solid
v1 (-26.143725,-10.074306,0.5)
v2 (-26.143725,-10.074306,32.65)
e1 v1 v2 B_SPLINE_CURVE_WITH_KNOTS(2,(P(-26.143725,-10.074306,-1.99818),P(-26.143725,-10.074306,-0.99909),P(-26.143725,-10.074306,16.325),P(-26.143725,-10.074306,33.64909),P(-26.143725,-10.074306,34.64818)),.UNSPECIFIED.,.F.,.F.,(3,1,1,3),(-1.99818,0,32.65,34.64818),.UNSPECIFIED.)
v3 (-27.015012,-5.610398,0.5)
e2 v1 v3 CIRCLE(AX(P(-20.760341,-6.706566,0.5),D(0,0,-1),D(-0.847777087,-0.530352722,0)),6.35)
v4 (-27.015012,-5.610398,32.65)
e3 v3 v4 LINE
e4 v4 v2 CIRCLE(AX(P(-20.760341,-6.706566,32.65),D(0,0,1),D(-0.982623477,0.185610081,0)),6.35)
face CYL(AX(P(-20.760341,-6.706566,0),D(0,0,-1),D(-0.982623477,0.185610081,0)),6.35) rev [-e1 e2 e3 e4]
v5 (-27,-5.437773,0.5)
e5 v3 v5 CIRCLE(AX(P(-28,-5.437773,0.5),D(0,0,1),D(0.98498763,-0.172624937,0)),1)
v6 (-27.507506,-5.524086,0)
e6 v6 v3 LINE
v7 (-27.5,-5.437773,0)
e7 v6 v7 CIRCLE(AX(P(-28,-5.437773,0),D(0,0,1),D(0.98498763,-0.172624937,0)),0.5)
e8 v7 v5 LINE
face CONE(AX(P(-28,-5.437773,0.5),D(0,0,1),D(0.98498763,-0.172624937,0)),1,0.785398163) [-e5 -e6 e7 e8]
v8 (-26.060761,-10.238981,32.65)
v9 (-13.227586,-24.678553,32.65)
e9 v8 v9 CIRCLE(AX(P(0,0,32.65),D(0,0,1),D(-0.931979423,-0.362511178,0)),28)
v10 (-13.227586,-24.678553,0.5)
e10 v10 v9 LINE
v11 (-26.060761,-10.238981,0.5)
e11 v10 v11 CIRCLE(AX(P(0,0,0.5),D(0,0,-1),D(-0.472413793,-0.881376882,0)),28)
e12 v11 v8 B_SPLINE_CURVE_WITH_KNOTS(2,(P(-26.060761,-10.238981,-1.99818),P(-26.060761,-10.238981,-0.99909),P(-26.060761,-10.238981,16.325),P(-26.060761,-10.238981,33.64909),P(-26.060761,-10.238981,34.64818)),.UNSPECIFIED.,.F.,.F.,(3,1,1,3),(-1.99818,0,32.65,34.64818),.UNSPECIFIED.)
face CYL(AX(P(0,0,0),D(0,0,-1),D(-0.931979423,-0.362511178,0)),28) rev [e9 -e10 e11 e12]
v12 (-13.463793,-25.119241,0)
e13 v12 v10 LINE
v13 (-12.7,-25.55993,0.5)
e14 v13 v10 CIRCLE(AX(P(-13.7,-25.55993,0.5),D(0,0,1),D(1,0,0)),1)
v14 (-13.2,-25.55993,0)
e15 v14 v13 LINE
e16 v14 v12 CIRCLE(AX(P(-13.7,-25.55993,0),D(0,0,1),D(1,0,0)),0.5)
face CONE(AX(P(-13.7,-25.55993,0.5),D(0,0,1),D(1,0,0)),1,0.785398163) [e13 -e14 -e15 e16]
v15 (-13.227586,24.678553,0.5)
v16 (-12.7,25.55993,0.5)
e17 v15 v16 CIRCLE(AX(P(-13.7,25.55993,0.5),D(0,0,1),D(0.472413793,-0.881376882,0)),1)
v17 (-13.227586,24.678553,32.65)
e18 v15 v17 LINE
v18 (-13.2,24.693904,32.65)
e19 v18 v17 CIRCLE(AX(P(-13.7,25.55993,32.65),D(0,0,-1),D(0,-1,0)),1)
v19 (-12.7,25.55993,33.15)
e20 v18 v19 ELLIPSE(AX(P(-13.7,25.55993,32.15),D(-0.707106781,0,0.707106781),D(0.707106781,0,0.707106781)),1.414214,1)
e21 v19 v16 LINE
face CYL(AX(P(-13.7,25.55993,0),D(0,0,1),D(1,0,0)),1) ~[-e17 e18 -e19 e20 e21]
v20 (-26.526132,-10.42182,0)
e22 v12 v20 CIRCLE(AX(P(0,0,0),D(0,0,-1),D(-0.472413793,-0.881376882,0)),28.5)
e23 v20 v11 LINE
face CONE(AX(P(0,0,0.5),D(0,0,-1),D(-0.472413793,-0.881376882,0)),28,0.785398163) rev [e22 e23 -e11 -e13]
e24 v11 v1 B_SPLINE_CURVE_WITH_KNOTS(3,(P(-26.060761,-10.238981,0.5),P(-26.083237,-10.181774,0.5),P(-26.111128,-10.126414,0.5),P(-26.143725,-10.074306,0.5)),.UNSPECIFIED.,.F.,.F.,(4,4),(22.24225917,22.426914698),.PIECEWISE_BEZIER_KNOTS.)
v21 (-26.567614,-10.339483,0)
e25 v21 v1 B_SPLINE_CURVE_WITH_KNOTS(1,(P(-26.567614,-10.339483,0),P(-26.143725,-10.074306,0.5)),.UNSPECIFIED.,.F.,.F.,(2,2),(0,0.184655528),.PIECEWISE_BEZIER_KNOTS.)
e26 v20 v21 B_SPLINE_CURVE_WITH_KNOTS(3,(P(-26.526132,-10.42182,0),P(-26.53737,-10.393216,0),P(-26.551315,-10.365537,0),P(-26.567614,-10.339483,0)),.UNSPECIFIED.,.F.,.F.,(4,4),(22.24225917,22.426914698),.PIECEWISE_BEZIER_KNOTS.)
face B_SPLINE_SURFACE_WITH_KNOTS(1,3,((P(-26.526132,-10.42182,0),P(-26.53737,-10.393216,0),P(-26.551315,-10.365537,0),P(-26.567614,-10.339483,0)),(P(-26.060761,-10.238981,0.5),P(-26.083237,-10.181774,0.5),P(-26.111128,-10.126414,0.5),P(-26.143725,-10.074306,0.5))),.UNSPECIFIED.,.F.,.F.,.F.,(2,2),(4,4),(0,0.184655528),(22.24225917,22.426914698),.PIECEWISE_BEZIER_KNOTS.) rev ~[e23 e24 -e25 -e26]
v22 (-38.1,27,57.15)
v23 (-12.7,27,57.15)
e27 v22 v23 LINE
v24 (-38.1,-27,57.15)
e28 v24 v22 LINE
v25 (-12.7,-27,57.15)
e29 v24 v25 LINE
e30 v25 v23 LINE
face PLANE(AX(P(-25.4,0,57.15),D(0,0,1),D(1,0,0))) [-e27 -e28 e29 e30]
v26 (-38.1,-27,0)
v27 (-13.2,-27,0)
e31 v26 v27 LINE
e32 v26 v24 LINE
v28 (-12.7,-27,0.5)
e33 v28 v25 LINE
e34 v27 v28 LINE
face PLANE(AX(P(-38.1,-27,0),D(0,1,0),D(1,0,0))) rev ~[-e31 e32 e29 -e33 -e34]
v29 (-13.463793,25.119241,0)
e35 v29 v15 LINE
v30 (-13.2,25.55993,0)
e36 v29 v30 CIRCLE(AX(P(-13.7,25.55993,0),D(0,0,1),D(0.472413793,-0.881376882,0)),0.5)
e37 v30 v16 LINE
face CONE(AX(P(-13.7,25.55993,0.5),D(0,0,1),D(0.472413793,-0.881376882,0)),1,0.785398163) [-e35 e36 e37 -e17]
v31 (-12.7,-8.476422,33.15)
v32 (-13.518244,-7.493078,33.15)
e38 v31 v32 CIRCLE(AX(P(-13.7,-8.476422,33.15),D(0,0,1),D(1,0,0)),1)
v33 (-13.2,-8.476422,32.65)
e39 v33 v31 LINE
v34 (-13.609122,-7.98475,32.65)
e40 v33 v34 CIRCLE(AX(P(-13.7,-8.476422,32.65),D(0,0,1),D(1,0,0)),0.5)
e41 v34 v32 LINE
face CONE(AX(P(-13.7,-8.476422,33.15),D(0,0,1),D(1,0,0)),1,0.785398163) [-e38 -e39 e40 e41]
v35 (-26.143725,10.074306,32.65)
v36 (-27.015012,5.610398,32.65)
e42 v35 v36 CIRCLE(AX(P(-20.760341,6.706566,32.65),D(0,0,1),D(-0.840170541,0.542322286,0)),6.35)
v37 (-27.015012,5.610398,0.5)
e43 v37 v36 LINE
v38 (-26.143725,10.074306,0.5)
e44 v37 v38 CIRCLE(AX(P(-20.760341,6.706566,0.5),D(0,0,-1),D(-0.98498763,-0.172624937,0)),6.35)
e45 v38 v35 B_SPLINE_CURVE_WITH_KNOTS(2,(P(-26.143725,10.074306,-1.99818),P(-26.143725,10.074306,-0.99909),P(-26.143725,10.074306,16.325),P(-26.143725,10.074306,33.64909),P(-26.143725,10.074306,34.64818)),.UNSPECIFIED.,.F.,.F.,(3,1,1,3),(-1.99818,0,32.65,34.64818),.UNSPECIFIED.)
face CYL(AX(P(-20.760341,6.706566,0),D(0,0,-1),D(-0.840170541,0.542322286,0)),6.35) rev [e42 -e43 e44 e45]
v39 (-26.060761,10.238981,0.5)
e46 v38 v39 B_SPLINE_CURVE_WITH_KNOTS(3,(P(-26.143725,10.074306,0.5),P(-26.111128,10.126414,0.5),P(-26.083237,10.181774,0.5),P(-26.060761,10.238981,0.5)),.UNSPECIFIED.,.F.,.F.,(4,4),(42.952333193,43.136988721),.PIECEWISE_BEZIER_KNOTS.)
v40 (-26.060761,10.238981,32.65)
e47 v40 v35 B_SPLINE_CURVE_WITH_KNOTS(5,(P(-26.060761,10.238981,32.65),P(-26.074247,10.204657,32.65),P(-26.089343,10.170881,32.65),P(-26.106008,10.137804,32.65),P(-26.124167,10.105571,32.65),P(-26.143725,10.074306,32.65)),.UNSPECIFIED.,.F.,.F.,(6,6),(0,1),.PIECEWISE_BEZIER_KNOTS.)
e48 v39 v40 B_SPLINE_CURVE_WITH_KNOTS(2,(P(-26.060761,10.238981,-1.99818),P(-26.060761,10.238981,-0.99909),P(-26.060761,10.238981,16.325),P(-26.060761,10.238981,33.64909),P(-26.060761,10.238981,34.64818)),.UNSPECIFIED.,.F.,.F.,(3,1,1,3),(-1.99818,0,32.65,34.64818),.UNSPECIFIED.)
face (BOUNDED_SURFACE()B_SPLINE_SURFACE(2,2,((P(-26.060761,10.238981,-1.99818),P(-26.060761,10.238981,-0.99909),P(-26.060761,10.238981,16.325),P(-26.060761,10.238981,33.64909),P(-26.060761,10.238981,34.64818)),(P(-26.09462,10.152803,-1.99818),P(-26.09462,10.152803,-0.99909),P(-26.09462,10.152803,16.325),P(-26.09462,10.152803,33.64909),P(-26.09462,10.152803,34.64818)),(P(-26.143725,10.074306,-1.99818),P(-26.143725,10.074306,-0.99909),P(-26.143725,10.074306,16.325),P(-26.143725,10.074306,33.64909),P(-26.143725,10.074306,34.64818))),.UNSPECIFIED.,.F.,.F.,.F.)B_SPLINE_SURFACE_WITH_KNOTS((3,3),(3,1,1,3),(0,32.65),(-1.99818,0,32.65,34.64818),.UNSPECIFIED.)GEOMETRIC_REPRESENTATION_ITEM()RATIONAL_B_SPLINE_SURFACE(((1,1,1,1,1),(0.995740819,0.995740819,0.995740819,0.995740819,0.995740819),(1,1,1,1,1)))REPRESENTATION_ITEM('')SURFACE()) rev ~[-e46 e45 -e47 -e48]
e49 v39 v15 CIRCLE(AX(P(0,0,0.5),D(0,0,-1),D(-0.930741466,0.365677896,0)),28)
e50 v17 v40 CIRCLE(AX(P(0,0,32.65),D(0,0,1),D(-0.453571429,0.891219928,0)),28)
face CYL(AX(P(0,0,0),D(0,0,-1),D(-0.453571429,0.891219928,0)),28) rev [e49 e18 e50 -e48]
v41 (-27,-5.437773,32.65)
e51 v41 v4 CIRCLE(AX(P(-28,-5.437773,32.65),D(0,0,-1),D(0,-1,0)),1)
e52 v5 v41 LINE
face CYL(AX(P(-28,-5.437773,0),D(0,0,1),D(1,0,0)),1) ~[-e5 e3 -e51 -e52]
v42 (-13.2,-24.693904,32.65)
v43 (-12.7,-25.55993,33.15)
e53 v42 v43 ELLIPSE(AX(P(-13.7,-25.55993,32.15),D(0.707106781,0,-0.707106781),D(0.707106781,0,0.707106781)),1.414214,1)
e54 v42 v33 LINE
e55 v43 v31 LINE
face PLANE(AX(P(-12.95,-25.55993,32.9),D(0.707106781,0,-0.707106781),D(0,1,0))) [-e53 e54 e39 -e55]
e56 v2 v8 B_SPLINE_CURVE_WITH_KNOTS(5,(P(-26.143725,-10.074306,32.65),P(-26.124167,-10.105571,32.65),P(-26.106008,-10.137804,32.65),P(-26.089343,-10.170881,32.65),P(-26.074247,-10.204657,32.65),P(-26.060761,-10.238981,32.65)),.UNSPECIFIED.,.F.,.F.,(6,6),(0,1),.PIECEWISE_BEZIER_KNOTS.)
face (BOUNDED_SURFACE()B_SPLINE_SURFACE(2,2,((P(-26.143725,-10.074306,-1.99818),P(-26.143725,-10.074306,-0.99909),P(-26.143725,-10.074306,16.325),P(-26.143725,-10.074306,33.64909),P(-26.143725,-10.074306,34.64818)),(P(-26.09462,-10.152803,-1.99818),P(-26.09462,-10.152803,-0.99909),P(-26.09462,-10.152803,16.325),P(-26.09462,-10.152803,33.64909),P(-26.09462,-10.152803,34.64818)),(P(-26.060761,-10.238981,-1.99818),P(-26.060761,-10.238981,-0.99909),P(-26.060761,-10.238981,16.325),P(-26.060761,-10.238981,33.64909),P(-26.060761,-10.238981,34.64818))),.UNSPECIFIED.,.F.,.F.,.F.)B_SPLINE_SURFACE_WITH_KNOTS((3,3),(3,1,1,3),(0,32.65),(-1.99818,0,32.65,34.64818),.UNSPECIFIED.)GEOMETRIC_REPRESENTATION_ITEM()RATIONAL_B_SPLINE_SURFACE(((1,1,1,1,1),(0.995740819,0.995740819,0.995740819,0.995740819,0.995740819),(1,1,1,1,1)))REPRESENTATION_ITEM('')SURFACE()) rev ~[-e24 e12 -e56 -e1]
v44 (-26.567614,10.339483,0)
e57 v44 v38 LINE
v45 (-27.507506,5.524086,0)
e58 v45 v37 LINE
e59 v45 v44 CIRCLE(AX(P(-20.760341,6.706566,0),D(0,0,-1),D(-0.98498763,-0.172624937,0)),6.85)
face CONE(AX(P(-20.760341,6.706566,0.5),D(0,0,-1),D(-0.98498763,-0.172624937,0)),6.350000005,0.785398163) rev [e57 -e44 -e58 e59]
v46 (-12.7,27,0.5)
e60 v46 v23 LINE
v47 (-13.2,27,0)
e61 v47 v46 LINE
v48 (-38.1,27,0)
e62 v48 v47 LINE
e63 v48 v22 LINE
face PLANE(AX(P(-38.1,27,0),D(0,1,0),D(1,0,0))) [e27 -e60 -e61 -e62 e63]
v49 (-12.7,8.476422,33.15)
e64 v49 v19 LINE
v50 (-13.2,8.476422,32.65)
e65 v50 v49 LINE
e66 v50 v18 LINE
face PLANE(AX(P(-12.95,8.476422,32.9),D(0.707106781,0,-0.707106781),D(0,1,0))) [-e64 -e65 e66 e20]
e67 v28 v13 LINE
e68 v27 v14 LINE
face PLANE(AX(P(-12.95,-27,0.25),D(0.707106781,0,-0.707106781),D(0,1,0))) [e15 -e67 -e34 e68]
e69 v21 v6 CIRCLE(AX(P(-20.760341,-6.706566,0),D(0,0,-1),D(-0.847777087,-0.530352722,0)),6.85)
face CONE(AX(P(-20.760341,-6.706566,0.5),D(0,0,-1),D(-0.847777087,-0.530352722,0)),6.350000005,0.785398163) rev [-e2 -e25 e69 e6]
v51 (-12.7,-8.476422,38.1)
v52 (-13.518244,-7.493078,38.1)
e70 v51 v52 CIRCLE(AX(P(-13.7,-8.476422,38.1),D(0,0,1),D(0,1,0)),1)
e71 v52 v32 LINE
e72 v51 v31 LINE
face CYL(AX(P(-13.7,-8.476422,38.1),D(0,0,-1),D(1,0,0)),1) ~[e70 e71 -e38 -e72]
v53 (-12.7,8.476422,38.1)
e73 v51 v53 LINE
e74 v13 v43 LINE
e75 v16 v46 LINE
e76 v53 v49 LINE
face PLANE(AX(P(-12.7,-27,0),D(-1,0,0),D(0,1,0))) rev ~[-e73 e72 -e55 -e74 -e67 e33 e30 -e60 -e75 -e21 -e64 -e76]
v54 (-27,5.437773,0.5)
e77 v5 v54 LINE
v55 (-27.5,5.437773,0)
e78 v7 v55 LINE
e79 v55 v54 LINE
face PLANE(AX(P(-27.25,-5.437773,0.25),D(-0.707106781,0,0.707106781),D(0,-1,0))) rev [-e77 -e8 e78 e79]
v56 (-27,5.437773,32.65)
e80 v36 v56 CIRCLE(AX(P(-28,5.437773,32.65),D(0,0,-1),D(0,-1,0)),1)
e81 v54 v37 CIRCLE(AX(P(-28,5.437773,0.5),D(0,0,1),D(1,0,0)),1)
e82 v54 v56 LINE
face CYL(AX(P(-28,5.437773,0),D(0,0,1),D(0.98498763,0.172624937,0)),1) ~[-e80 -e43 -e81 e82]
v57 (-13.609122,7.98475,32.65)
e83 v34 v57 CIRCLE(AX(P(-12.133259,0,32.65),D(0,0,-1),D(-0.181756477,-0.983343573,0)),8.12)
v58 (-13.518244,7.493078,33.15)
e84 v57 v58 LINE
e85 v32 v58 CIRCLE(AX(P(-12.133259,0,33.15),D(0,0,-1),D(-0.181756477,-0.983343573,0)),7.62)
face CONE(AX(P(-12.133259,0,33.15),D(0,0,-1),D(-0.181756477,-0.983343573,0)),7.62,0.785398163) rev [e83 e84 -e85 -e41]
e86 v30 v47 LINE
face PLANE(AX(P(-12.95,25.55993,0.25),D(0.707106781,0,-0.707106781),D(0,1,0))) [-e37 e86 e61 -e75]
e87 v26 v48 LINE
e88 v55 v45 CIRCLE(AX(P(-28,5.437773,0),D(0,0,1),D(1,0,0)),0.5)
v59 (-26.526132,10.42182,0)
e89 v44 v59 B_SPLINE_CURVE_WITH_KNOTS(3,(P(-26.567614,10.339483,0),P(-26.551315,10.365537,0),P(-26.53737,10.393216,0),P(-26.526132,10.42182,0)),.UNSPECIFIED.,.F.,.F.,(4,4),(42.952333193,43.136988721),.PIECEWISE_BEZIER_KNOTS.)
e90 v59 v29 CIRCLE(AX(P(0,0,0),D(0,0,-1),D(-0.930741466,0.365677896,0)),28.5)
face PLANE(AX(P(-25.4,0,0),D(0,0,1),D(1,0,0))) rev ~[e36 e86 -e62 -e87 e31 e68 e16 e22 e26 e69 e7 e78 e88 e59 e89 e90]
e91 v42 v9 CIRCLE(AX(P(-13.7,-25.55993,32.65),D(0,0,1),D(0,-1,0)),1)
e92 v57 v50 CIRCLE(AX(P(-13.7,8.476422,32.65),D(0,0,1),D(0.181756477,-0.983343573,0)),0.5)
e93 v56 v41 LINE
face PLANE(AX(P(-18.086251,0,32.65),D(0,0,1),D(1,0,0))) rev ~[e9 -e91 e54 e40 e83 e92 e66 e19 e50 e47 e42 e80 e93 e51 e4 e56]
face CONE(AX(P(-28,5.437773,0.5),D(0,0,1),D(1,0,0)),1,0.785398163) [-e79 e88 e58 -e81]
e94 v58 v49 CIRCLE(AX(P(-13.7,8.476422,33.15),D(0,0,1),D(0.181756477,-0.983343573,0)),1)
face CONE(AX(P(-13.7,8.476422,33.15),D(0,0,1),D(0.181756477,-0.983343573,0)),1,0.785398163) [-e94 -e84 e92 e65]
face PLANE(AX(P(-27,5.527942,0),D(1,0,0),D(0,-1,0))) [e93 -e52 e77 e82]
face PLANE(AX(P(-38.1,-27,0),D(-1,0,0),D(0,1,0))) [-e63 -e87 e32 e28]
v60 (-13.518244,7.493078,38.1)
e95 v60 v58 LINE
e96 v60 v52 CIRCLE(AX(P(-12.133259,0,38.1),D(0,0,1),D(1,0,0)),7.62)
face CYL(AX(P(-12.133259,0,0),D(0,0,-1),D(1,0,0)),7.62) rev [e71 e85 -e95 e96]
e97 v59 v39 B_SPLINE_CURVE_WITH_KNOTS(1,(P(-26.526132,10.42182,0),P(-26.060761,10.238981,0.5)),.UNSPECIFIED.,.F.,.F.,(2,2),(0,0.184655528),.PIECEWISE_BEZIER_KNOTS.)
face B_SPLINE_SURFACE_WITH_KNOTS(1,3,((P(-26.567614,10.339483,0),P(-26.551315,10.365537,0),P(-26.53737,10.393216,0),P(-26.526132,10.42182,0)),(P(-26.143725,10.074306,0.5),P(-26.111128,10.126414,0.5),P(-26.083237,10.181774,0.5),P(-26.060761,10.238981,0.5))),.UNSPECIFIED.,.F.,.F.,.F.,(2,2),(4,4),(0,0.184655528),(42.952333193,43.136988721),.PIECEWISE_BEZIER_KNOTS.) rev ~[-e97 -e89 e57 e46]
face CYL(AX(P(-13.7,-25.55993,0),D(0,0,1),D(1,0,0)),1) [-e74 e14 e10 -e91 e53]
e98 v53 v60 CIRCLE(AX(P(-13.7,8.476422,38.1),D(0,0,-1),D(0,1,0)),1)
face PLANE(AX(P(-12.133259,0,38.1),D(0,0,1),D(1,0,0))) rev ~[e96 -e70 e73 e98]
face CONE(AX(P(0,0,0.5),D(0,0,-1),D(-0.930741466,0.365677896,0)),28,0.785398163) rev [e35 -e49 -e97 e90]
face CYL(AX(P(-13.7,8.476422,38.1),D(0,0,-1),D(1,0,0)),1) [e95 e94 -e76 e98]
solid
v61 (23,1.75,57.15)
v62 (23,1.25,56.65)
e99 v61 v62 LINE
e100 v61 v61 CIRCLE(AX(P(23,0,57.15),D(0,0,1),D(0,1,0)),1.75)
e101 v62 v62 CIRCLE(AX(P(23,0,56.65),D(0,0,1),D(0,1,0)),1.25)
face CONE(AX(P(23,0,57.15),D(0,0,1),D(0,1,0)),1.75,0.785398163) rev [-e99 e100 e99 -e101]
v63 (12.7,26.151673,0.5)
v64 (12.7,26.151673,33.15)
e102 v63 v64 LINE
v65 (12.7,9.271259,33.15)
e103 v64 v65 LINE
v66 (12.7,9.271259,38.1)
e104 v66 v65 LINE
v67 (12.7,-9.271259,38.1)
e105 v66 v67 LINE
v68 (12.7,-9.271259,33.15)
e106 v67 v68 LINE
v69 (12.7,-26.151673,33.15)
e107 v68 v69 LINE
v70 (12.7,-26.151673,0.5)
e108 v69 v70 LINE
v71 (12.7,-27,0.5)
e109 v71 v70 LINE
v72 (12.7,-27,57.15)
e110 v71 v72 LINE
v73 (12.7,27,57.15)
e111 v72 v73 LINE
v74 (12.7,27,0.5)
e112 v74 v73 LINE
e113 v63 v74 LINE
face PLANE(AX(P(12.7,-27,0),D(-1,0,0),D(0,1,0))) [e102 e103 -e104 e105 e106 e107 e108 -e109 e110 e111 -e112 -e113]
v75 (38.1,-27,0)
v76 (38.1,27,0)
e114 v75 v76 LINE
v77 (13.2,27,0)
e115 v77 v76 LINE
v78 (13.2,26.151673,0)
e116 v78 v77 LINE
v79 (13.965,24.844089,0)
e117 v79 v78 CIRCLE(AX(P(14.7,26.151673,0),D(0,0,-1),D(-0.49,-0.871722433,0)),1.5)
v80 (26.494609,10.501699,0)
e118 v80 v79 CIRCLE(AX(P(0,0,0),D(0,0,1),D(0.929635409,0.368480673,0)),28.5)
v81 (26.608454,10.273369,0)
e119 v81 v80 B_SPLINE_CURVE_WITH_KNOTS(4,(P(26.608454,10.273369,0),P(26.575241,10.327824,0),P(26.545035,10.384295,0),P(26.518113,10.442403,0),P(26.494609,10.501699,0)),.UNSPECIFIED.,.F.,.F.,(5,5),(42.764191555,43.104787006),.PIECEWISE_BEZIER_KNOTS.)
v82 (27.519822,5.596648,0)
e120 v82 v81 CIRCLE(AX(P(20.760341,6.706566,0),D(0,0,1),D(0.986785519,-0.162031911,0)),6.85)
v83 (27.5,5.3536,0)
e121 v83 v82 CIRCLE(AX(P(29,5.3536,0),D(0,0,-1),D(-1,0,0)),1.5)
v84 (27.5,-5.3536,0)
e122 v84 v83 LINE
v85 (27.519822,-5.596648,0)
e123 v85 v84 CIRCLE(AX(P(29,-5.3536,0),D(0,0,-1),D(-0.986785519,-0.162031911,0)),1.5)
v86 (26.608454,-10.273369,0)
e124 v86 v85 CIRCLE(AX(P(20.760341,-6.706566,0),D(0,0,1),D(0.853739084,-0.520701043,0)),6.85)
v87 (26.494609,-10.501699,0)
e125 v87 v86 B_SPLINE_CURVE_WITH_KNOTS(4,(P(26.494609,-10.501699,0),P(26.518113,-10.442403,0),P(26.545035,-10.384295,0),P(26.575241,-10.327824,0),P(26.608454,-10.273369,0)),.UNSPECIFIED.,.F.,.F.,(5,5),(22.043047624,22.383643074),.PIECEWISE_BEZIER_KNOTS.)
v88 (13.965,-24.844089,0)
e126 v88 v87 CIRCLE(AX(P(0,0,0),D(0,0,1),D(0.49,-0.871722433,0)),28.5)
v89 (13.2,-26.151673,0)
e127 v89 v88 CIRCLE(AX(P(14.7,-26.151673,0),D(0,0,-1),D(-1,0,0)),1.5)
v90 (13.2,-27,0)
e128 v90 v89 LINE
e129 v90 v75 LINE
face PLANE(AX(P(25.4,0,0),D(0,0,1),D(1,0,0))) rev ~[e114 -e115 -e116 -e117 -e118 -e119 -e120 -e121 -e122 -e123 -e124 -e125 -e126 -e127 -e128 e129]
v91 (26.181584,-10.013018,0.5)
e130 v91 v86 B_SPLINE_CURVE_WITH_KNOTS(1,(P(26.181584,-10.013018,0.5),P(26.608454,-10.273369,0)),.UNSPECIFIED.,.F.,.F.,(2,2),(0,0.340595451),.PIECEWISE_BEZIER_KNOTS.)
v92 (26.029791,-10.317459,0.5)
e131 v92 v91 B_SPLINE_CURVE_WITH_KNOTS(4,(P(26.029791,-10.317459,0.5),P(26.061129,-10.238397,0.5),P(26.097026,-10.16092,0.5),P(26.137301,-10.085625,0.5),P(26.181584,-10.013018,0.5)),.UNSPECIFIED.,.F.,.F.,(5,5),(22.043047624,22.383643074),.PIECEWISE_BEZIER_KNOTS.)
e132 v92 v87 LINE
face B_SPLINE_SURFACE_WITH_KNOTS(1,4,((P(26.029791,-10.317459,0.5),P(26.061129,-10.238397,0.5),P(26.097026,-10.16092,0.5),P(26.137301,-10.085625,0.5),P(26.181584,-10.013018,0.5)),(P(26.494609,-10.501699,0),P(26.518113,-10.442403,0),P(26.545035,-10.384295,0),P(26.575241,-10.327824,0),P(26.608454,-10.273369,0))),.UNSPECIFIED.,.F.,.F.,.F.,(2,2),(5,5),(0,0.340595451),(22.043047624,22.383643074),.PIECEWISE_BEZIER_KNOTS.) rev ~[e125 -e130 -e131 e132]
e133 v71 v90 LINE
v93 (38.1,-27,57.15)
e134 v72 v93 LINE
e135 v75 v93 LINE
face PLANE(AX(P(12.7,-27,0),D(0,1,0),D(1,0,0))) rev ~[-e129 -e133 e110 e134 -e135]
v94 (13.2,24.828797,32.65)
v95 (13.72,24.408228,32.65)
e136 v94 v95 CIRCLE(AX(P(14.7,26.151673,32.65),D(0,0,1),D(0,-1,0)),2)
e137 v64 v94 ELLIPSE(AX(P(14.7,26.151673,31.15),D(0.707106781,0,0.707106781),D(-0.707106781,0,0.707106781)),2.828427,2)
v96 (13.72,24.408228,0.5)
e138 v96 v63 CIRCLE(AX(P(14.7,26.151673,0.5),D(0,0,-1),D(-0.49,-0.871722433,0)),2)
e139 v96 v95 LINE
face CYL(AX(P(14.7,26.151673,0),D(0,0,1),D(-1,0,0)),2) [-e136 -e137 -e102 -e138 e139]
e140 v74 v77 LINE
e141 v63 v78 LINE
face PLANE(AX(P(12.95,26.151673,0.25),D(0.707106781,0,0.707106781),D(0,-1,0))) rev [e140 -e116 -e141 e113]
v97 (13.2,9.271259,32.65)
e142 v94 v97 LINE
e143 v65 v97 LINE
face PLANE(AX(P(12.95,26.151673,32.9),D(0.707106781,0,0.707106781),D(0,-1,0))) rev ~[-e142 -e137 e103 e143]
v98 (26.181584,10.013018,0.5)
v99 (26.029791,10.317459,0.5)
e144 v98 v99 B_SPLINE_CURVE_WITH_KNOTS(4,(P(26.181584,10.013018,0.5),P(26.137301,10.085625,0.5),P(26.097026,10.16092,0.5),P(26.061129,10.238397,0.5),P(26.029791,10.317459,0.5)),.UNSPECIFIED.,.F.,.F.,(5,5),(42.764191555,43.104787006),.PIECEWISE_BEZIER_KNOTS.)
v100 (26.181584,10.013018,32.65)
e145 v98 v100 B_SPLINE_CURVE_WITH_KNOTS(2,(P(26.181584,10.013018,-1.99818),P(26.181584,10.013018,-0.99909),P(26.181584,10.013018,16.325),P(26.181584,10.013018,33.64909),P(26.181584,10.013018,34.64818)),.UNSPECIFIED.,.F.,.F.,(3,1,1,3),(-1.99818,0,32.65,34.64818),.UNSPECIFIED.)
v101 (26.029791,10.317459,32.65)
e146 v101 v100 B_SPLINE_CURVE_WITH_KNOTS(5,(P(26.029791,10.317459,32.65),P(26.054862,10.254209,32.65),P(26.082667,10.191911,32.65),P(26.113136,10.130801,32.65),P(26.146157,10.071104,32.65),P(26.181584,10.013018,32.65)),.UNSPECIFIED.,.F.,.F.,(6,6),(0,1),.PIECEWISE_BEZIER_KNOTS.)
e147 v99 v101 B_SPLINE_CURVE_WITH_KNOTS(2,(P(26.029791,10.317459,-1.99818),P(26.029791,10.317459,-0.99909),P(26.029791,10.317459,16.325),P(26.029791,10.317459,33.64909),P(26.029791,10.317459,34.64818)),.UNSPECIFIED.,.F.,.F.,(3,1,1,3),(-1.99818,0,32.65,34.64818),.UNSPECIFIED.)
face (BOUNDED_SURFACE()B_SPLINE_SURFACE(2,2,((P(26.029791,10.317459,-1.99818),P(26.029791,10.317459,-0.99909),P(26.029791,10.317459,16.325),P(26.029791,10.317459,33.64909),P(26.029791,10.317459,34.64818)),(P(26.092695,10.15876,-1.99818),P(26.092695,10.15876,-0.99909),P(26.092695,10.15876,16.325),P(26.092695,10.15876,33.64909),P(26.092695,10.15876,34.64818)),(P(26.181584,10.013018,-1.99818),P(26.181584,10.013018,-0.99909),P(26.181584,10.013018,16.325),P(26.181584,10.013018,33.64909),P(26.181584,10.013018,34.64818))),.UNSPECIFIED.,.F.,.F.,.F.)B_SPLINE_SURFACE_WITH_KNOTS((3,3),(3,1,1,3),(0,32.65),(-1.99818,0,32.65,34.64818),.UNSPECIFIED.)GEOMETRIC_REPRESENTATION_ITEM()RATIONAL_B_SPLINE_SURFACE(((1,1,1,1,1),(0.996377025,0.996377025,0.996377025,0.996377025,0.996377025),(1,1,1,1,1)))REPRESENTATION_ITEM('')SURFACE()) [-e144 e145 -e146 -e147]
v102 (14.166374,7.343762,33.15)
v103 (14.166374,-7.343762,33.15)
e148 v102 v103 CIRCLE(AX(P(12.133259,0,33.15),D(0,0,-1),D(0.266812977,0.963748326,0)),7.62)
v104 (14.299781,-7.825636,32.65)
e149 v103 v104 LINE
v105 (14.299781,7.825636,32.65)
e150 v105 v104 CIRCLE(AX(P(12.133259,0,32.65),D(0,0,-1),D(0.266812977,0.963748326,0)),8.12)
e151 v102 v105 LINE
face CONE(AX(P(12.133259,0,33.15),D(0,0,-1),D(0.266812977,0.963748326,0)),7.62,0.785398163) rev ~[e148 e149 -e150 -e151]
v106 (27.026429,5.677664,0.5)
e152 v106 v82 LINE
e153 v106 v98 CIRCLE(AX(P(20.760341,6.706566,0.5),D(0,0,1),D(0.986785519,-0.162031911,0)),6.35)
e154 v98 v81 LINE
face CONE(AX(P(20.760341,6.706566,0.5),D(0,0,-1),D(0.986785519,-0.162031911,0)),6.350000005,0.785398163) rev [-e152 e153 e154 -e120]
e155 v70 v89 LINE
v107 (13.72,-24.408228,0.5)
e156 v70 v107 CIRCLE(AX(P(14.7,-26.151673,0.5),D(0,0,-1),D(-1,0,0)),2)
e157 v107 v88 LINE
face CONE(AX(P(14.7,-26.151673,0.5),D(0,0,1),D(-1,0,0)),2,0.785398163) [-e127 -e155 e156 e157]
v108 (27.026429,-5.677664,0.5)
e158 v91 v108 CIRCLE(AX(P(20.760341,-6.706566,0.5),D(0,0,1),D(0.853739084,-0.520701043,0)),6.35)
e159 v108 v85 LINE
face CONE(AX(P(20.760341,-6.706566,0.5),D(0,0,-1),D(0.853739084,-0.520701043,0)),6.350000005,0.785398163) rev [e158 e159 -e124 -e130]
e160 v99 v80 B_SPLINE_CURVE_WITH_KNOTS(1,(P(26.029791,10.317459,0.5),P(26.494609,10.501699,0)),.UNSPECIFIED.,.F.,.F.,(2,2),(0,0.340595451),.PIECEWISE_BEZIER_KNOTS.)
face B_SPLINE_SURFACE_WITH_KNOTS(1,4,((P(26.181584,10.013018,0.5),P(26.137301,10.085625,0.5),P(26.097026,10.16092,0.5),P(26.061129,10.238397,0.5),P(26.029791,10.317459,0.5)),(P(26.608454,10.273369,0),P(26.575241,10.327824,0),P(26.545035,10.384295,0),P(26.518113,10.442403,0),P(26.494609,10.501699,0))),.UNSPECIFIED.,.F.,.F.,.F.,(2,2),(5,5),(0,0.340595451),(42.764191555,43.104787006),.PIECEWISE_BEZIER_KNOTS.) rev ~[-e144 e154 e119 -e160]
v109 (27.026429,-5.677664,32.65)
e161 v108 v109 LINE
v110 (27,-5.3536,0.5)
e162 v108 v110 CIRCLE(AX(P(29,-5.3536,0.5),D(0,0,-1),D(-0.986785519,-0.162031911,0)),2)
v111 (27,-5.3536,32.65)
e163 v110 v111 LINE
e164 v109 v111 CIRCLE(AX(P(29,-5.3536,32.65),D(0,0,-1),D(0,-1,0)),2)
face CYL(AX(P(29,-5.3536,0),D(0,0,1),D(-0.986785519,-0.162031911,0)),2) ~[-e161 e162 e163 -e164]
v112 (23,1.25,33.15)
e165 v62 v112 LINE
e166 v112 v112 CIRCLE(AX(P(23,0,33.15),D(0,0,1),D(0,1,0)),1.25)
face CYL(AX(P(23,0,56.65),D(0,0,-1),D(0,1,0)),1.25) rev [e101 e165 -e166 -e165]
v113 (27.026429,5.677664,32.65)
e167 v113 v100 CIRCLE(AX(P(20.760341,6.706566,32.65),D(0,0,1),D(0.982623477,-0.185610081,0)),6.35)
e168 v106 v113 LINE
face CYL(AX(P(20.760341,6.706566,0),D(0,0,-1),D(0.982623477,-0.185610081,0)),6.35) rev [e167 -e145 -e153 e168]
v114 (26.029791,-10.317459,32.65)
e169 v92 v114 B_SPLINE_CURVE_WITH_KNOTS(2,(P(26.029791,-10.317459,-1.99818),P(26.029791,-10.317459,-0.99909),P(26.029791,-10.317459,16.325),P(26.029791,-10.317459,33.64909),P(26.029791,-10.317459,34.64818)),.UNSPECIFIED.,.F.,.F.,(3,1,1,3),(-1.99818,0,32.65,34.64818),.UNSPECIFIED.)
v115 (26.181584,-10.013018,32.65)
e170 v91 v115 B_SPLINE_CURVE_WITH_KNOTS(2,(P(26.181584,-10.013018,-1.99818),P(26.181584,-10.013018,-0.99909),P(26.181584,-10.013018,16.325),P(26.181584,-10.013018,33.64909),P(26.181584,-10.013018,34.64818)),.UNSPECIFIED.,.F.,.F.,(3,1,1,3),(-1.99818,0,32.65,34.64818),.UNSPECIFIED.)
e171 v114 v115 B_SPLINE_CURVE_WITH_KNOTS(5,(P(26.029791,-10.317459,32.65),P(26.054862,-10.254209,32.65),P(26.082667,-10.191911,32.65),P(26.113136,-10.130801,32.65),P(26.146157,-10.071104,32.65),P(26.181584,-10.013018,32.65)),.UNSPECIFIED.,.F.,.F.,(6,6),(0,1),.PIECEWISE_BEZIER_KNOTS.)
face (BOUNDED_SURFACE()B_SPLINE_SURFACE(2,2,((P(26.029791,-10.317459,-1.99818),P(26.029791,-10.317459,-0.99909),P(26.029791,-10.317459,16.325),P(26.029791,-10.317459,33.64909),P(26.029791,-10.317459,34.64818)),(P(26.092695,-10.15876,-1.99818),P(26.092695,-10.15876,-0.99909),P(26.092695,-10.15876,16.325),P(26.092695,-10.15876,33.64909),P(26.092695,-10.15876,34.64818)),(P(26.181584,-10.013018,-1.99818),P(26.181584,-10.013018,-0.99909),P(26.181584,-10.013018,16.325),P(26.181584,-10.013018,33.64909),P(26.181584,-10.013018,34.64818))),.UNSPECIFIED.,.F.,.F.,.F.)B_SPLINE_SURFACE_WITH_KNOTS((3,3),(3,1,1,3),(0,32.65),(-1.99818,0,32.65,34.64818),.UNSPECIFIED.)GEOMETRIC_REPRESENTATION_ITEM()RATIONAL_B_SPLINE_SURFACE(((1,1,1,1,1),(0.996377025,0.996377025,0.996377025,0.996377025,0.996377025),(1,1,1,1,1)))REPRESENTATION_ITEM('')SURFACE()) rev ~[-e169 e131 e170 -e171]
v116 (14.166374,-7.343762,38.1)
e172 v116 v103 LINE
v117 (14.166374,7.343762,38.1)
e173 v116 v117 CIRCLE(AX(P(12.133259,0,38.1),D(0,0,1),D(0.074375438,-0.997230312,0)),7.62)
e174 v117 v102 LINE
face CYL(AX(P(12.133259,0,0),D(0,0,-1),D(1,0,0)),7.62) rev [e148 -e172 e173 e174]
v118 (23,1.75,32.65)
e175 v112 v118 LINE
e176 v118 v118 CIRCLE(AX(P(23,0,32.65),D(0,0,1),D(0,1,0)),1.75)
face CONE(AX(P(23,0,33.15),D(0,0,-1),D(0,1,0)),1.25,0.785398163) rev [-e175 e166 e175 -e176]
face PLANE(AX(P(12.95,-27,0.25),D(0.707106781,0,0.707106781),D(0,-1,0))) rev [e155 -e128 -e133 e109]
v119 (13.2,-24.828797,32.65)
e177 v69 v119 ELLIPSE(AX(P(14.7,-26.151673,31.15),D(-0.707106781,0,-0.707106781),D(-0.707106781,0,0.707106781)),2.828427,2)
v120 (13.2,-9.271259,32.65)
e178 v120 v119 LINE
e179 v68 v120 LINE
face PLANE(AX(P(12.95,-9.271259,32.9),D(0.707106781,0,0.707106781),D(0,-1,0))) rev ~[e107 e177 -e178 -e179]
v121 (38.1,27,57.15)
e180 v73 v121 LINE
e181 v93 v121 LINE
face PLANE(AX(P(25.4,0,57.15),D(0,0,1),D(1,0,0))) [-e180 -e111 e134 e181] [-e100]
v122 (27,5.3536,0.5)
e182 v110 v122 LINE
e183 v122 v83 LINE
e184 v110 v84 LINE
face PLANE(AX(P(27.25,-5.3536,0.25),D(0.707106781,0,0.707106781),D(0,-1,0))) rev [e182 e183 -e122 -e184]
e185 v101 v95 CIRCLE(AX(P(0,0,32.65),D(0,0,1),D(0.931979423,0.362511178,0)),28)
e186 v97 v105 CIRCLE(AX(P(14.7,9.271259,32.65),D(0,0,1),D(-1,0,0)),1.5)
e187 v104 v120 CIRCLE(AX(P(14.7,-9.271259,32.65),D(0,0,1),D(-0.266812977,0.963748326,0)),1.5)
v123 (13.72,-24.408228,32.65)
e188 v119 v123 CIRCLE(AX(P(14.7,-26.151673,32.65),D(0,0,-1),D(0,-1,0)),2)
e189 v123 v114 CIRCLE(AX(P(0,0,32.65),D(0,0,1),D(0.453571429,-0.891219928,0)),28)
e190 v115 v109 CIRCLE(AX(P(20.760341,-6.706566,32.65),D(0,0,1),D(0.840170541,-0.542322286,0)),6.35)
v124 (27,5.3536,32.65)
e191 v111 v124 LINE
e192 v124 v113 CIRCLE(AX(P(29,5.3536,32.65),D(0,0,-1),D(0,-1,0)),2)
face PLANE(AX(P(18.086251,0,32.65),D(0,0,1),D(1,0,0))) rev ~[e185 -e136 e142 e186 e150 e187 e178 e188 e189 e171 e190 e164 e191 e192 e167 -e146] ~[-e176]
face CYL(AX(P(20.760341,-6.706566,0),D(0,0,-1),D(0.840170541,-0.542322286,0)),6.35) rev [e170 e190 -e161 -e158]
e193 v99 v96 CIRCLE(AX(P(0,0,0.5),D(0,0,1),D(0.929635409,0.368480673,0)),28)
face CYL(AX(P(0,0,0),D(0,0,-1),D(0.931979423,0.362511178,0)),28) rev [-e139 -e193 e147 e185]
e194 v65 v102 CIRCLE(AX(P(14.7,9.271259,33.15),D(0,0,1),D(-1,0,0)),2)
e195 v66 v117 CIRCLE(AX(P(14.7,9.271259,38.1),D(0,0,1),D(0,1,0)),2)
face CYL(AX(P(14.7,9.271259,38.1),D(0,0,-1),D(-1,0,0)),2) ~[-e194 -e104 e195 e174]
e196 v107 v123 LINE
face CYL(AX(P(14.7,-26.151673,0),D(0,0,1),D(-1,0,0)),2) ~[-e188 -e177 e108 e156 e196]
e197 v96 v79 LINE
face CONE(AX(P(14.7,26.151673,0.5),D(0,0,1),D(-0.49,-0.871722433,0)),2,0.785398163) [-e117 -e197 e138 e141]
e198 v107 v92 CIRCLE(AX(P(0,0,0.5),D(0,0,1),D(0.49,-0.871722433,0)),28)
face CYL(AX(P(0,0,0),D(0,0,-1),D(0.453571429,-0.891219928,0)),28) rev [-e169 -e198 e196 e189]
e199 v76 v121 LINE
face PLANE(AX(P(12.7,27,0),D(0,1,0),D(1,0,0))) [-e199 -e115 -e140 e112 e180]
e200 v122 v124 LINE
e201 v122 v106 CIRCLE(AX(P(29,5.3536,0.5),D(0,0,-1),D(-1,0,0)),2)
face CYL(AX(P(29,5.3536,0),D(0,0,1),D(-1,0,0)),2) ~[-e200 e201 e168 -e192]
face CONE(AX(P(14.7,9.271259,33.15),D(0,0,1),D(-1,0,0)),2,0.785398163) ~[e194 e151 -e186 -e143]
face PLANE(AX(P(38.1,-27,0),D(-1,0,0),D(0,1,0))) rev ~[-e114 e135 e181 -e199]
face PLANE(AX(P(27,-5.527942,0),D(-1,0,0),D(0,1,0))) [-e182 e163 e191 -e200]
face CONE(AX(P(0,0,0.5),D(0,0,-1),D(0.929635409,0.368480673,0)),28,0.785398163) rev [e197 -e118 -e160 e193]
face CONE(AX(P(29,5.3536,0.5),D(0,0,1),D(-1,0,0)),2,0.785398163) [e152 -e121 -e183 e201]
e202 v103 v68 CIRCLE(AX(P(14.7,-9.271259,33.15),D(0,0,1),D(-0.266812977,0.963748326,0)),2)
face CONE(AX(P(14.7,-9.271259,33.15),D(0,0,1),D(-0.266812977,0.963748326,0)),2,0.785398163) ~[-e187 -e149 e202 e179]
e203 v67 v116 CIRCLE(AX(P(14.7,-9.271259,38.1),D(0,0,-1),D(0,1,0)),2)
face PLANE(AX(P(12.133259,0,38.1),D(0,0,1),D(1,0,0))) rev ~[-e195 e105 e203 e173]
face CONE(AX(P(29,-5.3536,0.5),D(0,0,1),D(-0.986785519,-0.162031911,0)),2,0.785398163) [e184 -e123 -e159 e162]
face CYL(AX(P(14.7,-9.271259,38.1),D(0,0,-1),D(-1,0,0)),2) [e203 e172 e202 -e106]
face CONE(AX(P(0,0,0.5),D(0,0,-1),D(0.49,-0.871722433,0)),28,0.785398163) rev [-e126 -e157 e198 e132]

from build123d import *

# Parameters (mm, degrees)
SOFT_JAW_STOCK_SKETCH_W       = 25.4
SOFT_JAW_STOCK_SKETCH_H       = 54
SOFT_JAW_STOCK_DEPTH          = 57.15
SOFT_JAW_STOCK_2_DEPTH        = 57.15
SOFT_JAW_BODY_CUTOUT_DEPTH    = 32.65
SOFT_JAW_CUTOUT_SKETCH_7_R    = 7.62
SOFT_JAW_HOLE_CLEARANCE_DEPTH = 38.1
FILLET1_R                     = 1
FILLET2_R                     = 2
CHAMFER1_SIZE                 = 0.5
CHAMFER2_SIZE                 = 0.5


with BuildPart() as part:
    # soft_jaw_stock_sketch → soft_jaw_stock (new body)
    with BuildSketch(Plane.XY):
        with Locations((25.4, 0)):
            Rectangle(SOFT_JAW_STOCK_SKETCH_W, SOFT_JAW_STOCK_SKETCH_H)
    extrude(amount=SOFT_JAW_STOCK_DEPTH)


with BuildPart() as body_2:
    # soft_jaw_stock_sketch → soft_jaw_stock 2 (new body)
    with BuildSketch(Plane.XY):
        with Locations((-25.4, 0)):
            Rectangle(SOFT_JAW_STOCK_SKETCH_W, SOFT_JAW_STOCK_SKETCH_H)
    extrude(amount=SOFT_JAW_STOCK_2_DEPTH)


with BuildPart() as soft_jaw_body_cutout_tool:
    # soft_jaw_cutout_sketch → soft_jaw_body_cutout (new body)
    with BuildSketch(Plane.XY):
        with BuildLine():
            ThreePointArc((-26.095423855, 10.150312992), (-26.99213364, 7.926098963), (-27, 5.527942461))
            Line((-27, 5.527942461), (-27, -5.527942461))
            ThreePointArc((-27, -5.527942461), (-26.99213364, -7.926098963), (-26.095423855, -10.150312992))
            ThreePointArc((-26.095423855, -10.150312992), (-20.761976894, -18.786705817), (-12.7, -24.95415797))
            Line((-12.7, -24.95415797), (-12.7, 24.95415797))
            ThreePointArc((-12.7, 24.95415797), (-20.761976894, 18.786705817), (-26.095423855, 10.150312992))
        make_face()
        with BuildLine():
            ThreePointArc((26.095423855, -10.150312992), (26.99213364, -7.926098963), (27, -5.527942461))
            Line((27, -5.527942461), (27, 5.527942461))
            ThreePointArc((27, 5.527942461), (26.99213364, 7.926098963), (26.095423855, 10.150312992))
            ThreePointArc((26.095423855, 10.150312992), (20.761976894, 18.786705817), (12.7, 24.95415797))
            Line((12.7, 24.95415797), (12.7, -24.95415797))
            ThreePointArc((12.7, -24.95415797), (20.761976894, -18.786705817), (26.095423855, -10.150312992))
        make_face()
    extrude(amount=SOFT_JAW_BODY_CUTOUT_DEPTH)


with BuildPart() as part_1:
    add(part.part)

    # soft_jaw_body_cutout: cut by soft_jaw_body_cutout_tool
    add(soft_jaw_body_cutout_tool.part, mode=Mode.SUBTRACT)


with BuildPart() as body_2_1:
    add(body_2.part)

    # soft_jaw_body_cutout: cut by soft_jaw_body_cutout_tool
    add(soft_jaw_body_cutout_tool.part, mode=Mode.SUBTRACT)


with BuildPart() as soft_jaw_hole_clearance_tool:
    # soft_jaw_cutout_sketch_7 → soft_jaw_hole_clearance (new body)
    with BuildSketch(Plane.XY):
        with Locations((-12.133259165, 0)):
            Circle(SOFT_JAW_CUTOUT_SKETCH_7_R)
        with Locations((12.133259165, 0)):
            Circle(SOFT_JAW_CUTOUT_SKETCH_7_R)
    extrude(amount=SOFT_JAW_HOLE_CLEARANCE_DEPTH)


with BuildPart() as part_2:
    add(part_1.part)

    # soft_jaw_hole_clearance: cut by soft_jaw_hole_clearance_tool
    add(soft_jaw_hole_clearance_tool.part, mode=Mode.SUBTRACT)

    # Sketch3 → alignment_pin_hole (revolve, cut)
    with BuildSketch(Plane(origin=(23, 0, 32.65), x_dir=(0, 1, 0), z_dir=(1, 0, 0))):
        Polygon((0, 0), (0, 24.5), (1.75, 24.5), (1.25, 24), (1.25, 0.5), (1.75, 0), align=None)
    revolve(axis=Axis((23, 0, 26.3), (0, 0, 1)), mode=Mode.SUBTRACT)

    # Fillet2
    fillet2_edges = [part_2.edges().sort_by_distance(p)[0] for p in [
        (26.095423855, 10.150312992, 16.325),
        (12.7, 24.95415797, 16.325),
        (12.7, -24.95415797, 16.325),
        (26.095423855, -10.150312992, 16.325),
        (27, -5.527942461, 16.325),
        (27, 5.527942461, 16.325),
        (12.7, -7.598894974, 35.375),
        (12.7, 7.598894974, 35.375),
    ]]
    fillet(fillet2_edges, radius=FILLET2_R)

    # Chamfer1
    chamfer1_edges = [part_2.edges().sort_by_distance(p)[0] for p in [
        (12.7, -17.711465941, 32.65),
        (12.7, 26.575836493, 0),
        (19.753259165, 0, 32.65),
        (12.7, 17.711465941, 32.65),
        (13.108263227, -8.06031957, 32.65),
        (13.108263227, 8.06031957, 32.65),
        (12.7, -26.575836493, 0),
        (21.086700189, 18.421484065, 0),
        (21.086700189, -18.421484065, 0),
        (26.993097288, -7.921164374, 0),
        (27, 0, 0),
        (26.993097288, 7.921164374, 0),
        (12.97373235, -25.141722493, 0),
        (26.099203165, -10.162005275, 0),
        (27.006618191, -5.516169884, 0),
        (27.006618191, 5.516169884, 0),
        (26.099203165, 10.162005275, 0),
        (12.97373235, 25.141722493, 0),
    ]]
    chamfer(chamfer1_edges, length=CHAMFER1_SIZE)


with BuildPart() as body_2_2:
    add(body_2_1.part)

    # soft_jaw_hole_clearance: cut by soft_jaw_hole_clearance_tool
    add(soft_jaw_hole_clearance_tool.part, mode=Mode.SUBTRACT)

    # Fillet1
    fillet1_edges = [body_2_2.edges().sort_by_distance(p)[0] for p in [
        (-12.7, 24.95415797, 16.325),
        (-26.095423855, 10.150312992, 16.325),
        (-27, 5.527942461, 16.325),
        (-27, -5.527942461, 16.325),
        (-12.7, -24.95415797, 16.325),
        (-26.095423855, -10.150312992, 16.325),
        (-12.7, -7.598894974, 35.375),
        (-12.7, 7.598894974, 35.375),
    ]]
    fillet(fillet1_edges, radius=FILLET1_R)

    # Chamfer2
    chamfer2_edges = [body_2_2.edges().sort_by_distance(p)[0] for p in [
        (-12.7, -17.018175589, 32.65),
        (-12.7, 26.279964789, 0),
        (-19.753259165, 0, 32.65),
        (-12.7, 17.018175589, 32.65),
        (-12.7, -26.279964789, 0),
        (-12.931313953, -7.836795334, 32.65),
        (-12.931313953, 7.836795334, 32.65),
        (-20.928900221, -18.60056815, 0),
        (-20.928900221, 18.60056815, 0),
        (-26.992732561, 7.923034492, 0),
        (-27, 0, 0),
        (-26.992732561, -7.923034492, 0),
        (-12.841975002, 25.04632165, 0),
        (-26.098439519, 10.154727337, 0),
        (-27.003760162, 5.52441143, 0),
        (-27.003760162, -5.52441143, 0),
        (-26.098439519, -10.154727337, 0),
        (-12.841975002, -25.04632165, 0),
    ]]
    chamfer(chamfer2_edges, length=CHAMFER2_SIZE)


solid = Compound([part_2.part, body_2_2.part])
